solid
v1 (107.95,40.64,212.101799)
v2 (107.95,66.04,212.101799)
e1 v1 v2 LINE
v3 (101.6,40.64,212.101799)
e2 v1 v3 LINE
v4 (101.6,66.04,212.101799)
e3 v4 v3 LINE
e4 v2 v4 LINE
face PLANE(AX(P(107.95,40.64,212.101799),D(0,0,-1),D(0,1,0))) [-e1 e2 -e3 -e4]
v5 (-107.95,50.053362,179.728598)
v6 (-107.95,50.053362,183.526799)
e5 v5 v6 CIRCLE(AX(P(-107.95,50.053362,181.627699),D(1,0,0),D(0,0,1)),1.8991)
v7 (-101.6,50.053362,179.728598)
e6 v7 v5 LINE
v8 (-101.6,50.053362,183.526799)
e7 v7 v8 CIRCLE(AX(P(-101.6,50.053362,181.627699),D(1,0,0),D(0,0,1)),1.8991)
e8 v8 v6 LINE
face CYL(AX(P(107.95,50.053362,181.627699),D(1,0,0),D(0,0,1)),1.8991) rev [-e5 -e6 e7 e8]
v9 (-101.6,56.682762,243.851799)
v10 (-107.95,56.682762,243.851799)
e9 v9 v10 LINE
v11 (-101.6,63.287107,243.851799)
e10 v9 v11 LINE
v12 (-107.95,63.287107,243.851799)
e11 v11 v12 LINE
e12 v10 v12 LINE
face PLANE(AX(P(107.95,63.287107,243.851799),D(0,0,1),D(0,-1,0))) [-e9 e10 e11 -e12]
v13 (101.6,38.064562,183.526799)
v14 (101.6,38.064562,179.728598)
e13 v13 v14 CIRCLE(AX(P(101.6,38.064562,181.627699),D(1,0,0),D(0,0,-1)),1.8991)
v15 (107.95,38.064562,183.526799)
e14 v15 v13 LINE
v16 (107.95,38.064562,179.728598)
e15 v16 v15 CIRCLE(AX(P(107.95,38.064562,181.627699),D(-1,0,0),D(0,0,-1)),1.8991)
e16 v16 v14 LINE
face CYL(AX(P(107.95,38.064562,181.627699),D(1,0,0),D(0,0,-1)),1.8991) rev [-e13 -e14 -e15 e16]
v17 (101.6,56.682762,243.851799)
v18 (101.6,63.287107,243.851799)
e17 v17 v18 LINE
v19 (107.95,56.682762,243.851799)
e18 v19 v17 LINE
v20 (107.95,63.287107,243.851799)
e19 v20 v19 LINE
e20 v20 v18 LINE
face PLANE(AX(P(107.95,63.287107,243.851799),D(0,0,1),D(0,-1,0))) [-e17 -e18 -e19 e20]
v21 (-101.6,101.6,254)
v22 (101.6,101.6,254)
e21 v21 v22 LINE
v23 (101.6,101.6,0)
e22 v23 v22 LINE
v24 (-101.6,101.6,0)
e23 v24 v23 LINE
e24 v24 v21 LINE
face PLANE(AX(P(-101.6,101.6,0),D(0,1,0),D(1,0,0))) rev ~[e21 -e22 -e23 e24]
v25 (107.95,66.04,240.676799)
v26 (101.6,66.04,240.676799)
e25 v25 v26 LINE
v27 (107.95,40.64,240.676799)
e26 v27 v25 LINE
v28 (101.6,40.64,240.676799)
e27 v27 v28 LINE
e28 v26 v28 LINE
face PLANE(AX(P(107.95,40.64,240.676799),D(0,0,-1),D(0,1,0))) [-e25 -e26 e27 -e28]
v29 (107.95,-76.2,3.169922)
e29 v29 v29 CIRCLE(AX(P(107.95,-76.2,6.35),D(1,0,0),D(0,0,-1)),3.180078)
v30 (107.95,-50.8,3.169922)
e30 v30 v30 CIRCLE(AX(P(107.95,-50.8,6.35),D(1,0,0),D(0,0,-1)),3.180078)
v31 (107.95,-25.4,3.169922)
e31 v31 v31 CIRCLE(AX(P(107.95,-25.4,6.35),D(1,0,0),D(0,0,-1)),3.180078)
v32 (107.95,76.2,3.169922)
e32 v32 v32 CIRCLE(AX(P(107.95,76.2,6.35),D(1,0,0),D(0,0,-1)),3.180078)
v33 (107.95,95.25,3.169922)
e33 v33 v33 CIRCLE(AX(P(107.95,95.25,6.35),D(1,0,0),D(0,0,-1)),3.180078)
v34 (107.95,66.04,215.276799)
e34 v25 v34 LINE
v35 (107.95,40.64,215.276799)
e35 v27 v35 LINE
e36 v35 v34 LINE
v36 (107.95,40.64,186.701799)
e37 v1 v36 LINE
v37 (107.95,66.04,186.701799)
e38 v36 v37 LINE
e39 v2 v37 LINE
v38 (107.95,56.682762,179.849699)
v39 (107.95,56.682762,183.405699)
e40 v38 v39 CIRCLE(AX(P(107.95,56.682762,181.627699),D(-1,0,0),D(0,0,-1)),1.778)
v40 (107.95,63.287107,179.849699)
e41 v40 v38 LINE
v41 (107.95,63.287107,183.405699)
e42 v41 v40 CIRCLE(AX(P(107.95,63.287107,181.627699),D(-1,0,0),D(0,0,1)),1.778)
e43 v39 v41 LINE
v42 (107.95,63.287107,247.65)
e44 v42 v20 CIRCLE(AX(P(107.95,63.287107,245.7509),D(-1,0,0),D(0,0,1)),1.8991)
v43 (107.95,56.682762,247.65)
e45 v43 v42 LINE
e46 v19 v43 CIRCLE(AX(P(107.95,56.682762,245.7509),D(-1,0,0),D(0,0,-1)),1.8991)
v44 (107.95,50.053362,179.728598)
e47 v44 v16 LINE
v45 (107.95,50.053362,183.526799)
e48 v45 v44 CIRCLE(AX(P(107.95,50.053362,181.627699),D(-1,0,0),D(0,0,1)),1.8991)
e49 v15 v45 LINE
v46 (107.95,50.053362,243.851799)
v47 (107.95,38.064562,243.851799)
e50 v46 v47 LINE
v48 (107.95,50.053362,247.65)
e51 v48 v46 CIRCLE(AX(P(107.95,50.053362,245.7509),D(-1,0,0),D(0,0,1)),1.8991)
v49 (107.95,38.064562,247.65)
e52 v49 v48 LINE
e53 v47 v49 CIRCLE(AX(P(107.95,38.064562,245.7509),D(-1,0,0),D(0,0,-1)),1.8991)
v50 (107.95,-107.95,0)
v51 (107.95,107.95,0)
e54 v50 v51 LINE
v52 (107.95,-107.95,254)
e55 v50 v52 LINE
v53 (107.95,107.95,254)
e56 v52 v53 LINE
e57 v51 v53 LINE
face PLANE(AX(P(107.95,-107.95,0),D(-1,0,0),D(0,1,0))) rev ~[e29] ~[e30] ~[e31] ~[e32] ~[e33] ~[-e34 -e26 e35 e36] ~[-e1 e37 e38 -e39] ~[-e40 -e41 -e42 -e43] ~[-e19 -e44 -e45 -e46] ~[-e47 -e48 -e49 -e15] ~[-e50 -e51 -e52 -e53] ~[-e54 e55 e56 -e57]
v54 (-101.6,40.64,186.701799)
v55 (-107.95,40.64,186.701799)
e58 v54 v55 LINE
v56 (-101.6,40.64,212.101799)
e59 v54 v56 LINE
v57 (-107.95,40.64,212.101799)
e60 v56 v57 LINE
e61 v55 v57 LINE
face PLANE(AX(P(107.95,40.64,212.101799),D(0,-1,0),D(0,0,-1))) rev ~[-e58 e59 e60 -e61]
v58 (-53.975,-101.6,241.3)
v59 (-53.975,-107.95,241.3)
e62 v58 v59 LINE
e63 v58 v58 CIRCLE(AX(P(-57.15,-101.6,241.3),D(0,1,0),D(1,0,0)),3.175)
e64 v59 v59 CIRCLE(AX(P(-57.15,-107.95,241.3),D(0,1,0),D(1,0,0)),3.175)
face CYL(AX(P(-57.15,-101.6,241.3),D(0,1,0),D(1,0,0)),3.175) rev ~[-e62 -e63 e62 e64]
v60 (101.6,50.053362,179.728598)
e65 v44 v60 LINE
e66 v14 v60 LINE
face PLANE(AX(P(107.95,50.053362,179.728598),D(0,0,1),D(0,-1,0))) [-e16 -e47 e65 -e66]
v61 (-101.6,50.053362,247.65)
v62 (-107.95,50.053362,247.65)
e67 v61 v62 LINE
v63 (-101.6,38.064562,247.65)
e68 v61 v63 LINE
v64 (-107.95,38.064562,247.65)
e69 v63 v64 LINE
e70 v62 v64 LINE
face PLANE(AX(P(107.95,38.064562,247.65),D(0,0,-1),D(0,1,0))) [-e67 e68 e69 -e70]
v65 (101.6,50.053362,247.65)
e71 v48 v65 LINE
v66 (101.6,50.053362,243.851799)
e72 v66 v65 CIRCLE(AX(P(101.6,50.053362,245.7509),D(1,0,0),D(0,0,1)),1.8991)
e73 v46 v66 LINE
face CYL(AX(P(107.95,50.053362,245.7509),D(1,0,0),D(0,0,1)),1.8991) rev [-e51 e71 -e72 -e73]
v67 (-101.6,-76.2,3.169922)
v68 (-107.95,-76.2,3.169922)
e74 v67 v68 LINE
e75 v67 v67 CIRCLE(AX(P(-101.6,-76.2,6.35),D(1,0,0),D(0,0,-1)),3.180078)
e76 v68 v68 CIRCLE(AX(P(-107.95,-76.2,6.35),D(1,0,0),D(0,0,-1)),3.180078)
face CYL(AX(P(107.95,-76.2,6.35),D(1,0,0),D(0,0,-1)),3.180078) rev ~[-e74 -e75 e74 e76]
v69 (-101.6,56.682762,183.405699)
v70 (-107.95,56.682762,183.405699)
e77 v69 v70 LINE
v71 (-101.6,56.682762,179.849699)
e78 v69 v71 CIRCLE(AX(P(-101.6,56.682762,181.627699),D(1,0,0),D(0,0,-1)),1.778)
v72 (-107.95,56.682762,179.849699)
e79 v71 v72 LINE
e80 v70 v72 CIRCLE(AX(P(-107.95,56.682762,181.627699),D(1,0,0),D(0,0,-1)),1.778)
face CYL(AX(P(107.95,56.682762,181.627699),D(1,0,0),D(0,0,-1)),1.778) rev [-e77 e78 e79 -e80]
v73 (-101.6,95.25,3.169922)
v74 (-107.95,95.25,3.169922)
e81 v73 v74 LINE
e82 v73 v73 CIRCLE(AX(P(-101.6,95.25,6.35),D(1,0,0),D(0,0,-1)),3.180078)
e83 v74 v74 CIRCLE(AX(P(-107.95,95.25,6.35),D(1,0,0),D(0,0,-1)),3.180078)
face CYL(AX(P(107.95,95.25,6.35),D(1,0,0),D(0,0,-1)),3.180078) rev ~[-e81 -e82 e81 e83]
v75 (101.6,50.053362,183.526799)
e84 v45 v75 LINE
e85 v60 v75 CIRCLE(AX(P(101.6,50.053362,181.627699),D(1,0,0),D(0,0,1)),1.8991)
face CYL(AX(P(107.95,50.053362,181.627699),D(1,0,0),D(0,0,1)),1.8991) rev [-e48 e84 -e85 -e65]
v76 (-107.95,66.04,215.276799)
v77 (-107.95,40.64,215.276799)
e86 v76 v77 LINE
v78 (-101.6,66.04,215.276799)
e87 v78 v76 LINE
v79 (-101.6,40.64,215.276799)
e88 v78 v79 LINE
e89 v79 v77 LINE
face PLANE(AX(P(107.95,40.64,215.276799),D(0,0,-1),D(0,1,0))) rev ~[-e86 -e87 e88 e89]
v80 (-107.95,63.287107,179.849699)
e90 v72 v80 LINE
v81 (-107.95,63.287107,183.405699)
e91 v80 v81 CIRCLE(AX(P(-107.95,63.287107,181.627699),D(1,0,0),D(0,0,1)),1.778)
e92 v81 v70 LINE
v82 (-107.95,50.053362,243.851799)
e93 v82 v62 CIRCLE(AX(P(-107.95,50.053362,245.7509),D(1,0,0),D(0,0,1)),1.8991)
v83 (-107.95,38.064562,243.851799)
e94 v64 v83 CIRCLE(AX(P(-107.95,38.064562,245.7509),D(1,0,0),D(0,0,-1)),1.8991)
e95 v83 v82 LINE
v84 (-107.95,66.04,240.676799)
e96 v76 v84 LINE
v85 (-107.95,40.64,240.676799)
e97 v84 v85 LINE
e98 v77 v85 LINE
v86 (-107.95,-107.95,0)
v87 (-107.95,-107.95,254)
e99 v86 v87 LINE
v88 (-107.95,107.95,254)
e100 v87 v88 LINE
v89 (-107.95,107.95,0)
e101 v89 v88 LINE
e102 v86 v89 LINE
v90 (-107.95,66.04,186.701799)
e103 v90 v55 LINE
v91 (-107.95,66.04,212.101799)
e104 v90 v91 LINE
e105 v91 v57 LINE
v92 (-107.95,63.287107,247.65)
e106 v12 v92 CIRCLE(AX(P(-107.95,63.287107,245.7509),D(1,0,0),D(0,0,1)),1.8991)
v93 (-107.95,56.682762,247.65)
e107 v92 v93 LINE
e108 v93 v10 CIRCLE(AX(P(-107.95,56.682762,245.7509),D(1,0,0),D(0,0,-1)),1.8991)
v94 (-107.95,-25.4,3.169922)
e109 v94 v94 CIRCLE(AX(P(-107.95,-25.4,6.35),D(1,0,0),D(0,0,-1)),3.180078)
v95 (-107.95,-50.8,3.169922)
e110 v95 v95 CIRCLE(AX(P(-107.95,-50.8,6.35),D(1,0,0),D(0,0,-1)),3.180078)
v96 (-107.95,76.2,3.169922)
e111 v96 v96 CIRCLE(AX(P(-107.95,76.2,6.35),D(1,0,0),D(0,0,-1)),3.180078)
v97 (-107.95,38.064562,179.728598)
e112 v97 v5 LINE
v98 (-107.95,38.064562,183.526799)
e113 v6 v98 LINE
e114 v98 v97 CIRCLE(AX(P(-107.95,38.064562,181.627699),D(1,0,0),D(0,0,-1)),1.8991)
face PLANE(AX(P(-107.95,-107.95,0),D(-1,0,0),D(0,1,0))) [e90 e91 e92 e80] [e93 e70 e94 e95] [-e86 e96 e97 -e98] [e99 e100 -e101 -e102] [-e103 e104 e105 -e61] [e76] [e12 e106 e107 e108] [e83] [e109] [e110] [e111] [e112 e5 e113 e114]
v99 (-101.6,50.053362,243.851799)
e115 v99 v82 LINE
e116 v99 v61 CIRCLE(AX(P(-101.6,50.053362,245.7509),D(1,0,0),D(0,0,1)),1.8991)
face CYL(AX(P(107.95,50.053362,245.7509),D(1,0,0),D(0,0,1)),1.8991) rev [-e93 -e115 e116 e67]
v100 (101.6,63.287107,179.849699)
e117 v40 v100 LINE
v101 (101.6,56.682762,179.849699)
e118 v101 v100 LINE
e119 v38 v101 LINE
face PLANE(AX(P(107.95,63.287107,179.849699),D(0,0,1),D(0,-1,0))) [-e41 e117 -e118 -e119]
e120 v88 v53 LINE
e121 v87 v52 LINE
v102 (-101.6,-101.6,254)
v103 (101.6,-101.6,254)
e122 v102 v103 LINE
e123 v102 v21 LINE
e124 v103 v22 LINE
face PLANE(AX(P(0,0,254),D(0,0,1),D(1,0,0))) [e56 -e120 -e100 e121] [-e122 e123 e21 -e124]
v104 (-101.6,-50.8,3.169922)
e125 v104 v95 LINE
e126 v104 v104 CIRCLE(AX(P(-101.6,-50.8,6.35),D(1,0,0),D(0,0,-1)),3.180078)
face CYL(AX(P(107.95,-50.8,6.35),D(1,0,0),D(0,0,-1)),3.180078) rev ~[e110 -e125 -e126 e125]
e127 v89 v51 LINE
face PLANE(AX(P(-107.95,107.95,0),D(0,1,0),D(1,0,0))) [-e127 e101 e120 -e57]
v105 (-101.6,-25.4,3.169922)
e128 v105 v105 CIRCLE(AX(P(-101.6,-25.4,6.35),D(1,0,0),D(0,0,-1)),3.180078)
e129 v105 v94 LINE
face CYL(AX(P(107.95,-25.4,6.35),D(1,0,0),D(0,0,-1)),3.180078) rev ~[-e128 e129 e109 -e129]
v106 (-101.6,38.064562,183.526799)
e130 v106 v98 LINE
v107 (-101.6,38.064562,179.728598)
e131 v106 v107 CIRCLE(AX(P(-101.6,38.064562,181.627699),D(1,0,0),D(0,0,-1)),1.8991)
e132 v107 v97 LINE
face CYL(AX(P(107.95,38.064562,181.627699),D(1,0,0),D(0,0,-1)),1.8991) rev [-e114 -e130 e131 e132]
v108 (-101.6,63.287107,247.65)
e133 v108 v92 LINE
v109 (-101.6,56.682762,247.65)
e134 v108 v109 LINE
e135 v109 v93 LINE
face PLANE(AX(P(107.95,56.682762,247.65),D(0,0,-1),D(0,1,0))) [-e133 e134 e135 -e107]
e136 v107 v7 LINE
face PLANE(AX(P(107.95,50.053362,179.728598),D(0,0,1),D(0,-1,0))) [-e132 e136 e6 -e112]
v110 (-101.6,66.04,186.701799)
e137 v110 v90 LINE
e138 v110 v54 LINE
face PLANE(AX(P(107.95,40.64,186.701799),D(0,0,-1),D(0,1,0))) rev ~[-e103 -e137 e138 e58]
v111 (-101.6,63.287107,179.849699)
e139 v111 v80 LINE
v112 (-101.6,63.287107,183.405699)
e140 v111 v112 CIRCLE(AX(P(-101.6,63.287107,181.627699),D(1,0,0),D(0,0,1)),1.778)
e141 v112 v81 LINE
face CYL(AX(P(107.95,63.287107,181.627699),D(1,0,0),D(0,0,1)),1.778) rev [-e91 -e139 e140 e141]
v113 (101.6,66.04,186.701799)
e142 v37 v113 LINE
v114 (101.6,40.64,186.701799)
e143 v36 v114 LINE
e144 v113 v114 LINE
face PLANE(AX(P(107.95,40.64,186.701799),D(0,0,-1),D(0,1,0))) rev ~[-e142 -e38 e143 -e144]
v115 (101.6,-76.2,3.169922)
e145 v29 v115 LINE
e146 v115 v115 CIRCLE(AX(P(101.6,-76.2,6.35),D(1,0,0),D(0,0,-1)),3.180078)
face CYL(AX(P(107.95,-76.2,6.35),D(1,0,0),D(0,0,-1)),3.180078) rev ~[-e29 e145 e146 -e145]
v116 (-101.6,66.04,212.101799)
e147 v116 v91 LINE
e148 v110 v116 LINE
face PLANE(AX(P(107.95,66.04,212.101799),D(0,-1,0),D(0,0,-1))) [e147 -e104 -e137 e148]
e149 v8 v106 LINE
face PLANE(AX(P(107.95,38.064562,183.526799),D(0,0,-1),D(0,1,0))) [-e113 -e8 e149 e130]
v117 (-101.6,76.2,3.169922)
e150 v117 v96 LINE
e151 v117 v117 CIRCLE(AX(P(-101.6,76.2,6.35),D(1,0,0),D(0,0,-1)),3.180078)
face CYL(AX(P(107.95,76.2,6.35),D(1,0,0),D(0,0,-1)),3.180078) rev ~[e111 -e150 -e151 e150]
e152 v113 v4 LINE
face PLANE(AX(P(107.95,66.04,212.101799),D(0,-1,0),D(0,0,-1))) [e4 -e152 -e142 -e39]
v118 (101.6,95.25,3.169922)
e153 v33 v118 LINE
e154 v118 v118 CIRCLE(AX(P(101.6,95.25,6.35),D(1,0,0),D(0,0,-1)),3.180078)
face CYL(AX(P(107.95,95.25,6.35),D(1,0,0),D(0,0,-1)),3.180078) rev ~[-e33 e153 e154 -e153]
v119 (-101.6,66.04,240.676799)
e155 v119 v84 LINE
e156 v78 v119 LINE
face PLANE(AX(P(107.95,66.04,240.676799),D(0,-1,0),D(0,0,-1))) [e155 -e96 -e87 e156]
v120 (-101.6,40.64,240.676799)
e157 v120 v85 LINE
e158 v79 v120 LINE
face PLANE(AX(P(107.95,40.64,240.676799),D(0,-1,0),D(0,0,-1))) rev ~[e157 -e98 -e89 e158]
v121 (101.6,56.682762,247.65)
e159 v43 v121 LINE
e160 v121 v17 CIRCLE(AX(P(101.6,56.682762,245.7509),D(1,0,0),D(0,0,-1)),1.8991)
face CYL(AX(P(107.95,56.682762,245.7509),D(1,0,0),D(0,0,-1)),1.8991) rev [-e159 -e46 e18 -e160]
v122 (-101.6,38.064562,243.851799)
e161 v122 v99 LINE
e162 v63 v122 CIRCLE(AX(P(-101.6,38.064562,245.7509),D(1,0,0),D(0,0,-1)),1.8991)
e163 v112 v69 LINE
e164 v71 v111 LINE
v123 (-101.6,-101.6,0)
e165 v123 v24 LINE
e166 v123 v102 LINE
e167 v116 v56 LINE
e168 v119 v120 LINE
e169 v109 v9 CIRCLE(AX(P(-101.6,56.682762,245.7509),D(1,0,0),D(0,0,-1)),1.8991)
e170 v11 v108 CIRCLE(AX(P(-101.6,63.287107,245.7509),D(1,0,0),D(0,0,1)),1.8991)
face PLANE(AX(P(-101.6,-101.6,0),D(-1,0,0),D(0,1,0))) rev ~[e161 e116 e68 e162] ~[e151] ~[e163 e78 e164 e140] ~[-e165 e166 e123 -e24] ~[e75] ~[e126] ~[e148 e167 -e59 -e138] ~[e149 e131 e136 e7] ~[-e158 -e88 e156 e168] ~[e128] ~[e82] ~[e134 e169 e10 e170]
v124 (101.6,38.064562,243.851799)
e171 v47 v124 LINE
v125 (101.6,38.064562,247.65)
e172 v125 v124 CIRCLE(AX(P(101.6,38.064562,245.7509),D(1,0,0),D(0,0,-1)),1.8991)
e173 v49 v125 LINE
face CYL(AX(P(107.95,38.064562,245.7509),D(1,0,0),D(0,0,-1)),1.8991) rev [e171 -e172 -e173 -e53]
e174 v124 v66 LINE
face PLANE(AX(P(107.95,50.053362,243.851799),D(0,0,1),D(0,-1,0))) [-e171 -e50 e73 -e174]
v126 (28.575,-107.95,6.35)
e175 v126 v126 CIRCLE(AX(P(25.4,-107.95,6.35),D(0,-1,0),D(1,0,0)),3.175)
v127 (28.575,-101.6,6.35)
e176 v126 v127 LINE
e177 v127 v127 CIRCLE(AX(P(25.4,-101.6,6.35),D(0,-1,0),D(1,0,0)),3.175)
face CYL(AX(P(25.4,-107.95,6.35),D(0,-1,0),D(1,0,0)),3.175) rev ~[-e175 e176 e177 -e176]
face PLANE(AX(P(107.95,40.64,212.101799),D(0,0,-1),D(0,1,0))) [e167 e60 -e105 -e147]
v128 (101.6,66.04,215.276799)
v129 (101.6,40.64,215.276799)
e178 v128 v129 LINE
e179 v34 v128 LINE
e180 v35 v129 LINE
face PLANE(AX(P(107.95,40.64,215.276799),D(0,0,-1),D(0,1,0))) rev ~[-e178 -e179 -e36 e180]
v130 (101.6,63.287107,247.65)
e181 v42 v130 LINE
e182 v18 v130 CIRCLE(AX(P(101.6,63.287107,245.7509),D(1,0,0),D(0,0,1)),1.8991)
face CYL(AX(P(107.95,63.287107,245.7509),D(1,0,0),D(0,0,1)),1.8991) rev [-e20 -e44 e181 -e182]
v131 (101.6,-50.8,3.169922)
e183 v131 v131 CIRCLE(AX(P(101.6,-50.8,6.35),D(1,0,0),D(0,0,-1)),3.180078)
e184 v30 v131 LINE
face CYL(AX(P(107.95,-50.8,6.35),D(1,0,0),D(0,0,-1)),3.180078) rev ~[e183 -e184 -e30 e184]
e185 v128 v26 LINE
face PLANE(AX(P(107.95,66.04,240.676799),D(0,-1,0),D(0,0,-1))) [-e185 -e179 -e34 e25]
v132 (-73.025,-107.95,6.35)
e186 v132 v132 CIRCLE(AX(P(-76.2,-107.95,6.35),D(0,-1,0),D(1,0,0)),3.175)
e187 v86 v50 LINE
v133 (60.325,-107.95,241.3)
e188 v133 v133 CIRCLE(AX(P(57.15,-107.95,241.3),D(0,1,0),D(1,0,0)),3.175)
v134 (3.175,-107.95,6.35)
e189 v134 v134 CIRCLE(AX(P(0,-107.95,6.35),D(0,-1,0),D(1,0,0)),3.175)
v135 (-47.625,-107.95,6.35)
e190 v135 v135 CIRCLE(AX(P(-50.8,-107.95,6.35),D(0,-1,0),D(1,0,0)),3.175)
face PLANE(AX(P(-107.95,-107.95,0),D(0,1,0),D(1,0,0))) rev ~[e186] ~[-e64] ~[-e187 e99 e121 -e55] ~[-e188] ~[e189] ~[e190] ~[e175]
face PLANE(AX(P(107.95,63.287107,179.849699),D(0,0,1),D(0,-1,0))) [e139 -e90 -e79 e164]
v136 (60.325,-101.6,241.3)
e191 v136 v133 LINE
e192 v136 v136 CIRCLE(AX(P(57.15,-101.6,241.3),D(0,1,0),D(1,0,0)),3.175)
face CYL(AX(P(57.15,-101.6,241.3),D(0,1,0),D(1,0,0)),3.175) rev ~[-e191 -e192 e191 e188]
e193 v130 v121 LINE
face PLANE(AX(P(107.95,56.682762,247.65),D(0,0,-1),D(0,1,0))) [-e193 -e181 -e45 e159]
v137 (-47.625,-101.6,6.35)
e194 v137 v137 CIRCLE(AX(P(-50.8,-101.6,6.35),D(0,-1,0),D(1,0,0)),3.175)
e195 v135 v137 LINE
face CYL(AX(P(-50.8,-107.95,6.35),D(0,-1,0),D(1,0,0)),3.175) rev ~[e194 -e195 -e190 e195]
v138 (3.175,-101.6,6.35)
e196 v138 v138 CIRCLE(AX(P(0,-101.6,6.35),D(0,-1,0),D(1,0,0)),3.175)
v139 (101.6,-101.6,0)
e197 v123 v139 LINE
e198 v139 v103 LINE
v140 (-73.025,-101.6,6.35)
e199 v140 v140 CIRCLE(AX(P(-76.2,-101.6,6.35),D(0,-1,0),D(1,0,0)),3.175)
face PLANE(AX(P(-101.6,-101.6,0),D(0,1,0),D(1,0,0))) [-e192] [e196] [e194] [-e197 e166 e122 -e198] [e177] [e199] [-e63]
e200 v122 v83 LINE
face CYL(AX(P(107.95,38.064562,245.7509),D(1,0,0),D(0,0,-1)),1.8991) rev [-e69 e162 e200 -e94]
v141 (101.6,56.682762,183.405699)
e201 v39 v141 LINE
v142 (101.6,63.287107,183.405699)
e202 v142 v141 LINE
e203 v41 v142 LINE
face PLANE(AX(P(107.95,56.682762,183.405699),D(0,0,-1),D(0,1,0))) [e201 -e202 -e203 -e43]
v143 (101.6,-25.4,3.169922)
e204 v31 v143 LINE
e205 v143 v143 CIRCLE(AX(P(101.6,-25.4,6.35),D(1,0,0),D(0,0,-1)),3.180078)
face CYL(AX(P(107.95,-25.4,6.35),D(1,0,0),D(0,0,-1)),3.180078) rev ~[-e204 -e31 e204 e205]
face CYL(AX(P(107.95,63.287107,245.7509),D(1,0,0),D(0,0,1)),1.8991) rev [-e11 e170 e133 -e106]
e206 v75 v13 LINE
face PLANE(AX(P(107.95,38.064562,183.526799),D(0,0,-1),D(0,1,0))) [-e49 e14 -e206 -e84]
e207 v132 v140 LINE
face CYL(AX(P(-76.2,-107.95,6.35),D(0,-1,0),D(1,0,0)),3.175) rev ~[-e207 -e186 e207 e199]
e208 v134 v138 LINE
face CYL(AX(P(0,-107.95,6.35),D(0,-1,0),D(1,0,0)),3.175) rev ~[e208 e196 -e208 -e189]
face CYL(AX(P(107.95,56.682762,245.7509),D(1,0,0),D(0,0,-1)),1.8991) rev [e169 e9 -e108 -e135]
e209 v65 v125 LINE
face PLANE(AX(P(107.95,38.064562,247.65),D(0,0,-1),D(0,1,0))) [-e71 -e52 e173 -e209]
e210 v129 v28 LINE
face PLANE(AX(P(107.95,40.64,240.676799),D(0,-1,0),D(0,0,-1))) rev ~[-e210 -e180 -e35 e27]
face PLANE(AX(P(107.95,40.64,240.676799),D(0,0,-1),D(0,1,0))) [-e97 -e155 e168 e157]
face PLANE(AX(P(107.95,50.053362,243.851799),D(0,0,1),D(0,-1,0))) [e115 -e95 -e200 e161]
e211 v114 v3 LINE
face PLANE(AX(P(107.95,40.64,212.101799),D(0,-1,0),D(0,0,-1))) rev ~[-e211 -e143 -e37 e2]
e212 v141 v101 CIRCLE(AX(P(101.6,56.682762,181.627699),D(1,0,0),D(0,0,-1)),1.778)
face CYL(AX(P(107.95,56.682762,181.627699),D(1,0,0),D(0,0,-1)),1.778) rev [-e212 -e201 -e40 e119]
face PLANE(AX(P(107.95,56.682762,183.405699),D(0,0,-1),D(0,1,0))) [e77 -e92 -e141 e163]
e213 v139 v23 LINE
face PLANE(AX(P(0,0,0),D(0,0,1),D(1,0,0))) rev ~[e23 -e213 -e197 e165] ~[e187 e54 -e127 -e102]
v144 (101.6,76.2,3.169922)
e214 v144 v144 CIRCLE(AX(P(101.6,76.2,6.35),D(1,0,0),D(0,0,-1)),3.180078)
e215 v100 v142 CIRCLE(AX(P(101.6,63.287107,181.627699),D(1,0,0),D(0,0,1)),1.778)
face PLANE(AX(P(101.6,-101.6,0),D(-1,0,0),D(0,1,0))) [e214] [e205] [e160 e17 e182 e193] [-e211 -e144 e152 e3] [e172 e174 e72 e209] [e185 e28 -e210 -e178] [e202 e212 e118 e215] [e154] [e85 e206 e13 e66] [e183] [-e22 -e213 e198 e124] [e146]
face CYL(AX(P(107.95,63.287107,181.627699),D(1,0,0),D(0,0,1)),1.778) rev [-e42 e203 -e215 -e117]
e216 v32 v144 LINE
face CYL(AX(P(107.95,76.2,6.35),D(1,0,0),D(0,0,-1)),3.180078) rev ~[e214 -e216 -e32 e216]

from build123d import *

# Parameters (mm, degrees)
SKETCH1_W           = 215.9
SKETCH1_H           = 215.9
SKETCH1_W_2         = 203.2
SKETCH1_H_2         = 203.2
BOSS_EXTRUDE1_DEPTH = 254
SKETCH2_W           = 25.4
SKETCH2_H           = 25.4
CUT_EXTRUDE1_DEPTH  = 216.9
SKETCH5_R           = 3.175
CUT_EXTRUDE4_DEPTH  = 6.35
SKETCH6_R           = 3.180077948
CUT_EXTRUDE5_DEPTH  = 216.9
SKETCH7_R           = 3.175
CUT_EXTRUDE6_DEPTH  = 12.7


with BuildPart() as part:
    # Sketch1 → Boss-Extrude1 (new body)
    with BuildSketch(Plane.XY):
        Rectangle(SKETCH1_W, SKETCH1_H)
        Rectangle(SKETCH1_W_2, SKETCH1_H_2, mode=Mode.SUBTRACT)
    extrude(amount=BOSS_EXTRUDE1_DEPTH)

    # Sketch2 → Cut-Extrude1 (cut, through all)
    with BuildSketch(Plane(origin=(107.95, 0, 0), x_dir=(0, 0, -1), z_dir=(1, 0, 0))):
        with Locations((-227.976799094, 53.34)):
            Rectangle(SKETCH2_W, SKETCH2_H)
        with Locations((-199.401799094, 53.34)):
            Rectangle(SKETCH2_W, SKETCH2_H)
        with BuildLine():
            Line((-243.851799094, 50.053361626), (-243.851799094, 38.064561626))
            ThreePointArc((-243.851799094, 38.064561626), (-245.750899547, 36.165461173), (-247.65, 38.064561626))
            Line((-247.65, 38.064561626), (-247.65, 50.053361626))
            ThreePointArc((-247.65, 50.053361626), (-245.750899547, 51.952462079), (-243.851799094, 50.053361626))
        make_face()
        with BuildLine():
            Line((-247.65, 56.682761626), (-247.65, 63.287106941))
            ThreePointArc((-247.65, 63.287106941), (-245.750899547, 65.186207394), (-243.851799094, 63.287106941))
            Line((-243.851799094, 63.287106941), (-243.851799094, 56.682761626))
            ThreePointArc((-243.851799094, 56.682761626), (-245.750899547, 54.783661173), (-247.65, 56.682761626))
        make_face()
        with BuildLine():
            Line((-179.728598189, 50.053361626), (-179.728598189, 38.064561626))
            ThreePointArc((-179.728598189, 38.064561626), (-181.627698642, 36.165461173), (-183.526799094, 38.064561626))
            Line((-183.526799094, 38.064561626), (-183.526799094, 50.053361626))
            ThreePointArc((-183.526799094, 50.053361626), (-181.627698642, 51.952462079), (-179.728598189, 50.053361626))
        make_face()
        with BuildLine():
            Line((-183.405698642, 56.682761626), (-183.405698642, 63.287106941))
            ThreePointArc((-183.405698642, 63.287106941), (-181.627698642, 65.065106941), (-179.849698642, 63.287106941))
            Line((-179.849698642, 63.287106941), (-179.849698642, 56.682761626))
            ThreePointArc((-179.849698642, 56.682761626), (-181.627698642, 54.904761626), (-183.405698642, 56.682761626))
        make_face()
    extrude(amount=-CUT_EXTRUDE1_DEPTH, mode=Mode.SUBTRACT)

    # Sketch5 → Cut-Extrude4 (cut)
    with BuildSketch(Plane.XZ.offset(107.95)):
        with Locations((-76.2, 6.35)):
            Circle(SKETCH5_R)
        with Locations((-50.8, 6.35)):
            Circle(SKETCH5_R)
        with Locations((0, 6.35)):
            Circle(SKETCH5_R)
        with Locations((25.4, 6.35)):
            Circle(SKETCH5_R)
    extrude(amount=-CUT_EXTRUDE4_DEPTH, mode=Mode.SUBTRACT)

    # Sketch6 → Cut-Extrude5 (cut, through all)
    with BuildSketch(Plane(origin=(107.95, 0, 0), x_dir=(0, 0, -1), z_dir=(1, 0, 0))):
        with Locations((-6.35, 95.25)):
            Circle(SKETCH6_R)
        with Locations((-6.35, 76.2)):
            Circle(SKETCH6_R)
        with Locations((-6.35, -25.4)):
            Circle(SKETCH6_R)
        with Locations((-6.35, -50.8)):
            Circle(SKETCH6_R)
        with Locations((-6.35, -76.2)):
            Circle(SKETCH6_R)
    extrude(amount=-CUT_EXTRUDE5_DEPTH, mode=Mode.SUBTRACT)

    # Sketch7 → Cut-Extrude6 (cut)
    with BuildSketch(Plane(origin=(0, -101.6, 0), x_dir=(1, 0, 0), z_dir=(0, 1, 0))):
        with Locations((-57.15, -241.3)):
            Circle(SKETCH7_R)
        with Locations((57.15, -241.3)):
            Circle(SKETCH7_R)
    extrude(amount=-CUT_EXTRUDE6_DEPTH, mode=Mode.SUBTRACT)


solid = part.part
